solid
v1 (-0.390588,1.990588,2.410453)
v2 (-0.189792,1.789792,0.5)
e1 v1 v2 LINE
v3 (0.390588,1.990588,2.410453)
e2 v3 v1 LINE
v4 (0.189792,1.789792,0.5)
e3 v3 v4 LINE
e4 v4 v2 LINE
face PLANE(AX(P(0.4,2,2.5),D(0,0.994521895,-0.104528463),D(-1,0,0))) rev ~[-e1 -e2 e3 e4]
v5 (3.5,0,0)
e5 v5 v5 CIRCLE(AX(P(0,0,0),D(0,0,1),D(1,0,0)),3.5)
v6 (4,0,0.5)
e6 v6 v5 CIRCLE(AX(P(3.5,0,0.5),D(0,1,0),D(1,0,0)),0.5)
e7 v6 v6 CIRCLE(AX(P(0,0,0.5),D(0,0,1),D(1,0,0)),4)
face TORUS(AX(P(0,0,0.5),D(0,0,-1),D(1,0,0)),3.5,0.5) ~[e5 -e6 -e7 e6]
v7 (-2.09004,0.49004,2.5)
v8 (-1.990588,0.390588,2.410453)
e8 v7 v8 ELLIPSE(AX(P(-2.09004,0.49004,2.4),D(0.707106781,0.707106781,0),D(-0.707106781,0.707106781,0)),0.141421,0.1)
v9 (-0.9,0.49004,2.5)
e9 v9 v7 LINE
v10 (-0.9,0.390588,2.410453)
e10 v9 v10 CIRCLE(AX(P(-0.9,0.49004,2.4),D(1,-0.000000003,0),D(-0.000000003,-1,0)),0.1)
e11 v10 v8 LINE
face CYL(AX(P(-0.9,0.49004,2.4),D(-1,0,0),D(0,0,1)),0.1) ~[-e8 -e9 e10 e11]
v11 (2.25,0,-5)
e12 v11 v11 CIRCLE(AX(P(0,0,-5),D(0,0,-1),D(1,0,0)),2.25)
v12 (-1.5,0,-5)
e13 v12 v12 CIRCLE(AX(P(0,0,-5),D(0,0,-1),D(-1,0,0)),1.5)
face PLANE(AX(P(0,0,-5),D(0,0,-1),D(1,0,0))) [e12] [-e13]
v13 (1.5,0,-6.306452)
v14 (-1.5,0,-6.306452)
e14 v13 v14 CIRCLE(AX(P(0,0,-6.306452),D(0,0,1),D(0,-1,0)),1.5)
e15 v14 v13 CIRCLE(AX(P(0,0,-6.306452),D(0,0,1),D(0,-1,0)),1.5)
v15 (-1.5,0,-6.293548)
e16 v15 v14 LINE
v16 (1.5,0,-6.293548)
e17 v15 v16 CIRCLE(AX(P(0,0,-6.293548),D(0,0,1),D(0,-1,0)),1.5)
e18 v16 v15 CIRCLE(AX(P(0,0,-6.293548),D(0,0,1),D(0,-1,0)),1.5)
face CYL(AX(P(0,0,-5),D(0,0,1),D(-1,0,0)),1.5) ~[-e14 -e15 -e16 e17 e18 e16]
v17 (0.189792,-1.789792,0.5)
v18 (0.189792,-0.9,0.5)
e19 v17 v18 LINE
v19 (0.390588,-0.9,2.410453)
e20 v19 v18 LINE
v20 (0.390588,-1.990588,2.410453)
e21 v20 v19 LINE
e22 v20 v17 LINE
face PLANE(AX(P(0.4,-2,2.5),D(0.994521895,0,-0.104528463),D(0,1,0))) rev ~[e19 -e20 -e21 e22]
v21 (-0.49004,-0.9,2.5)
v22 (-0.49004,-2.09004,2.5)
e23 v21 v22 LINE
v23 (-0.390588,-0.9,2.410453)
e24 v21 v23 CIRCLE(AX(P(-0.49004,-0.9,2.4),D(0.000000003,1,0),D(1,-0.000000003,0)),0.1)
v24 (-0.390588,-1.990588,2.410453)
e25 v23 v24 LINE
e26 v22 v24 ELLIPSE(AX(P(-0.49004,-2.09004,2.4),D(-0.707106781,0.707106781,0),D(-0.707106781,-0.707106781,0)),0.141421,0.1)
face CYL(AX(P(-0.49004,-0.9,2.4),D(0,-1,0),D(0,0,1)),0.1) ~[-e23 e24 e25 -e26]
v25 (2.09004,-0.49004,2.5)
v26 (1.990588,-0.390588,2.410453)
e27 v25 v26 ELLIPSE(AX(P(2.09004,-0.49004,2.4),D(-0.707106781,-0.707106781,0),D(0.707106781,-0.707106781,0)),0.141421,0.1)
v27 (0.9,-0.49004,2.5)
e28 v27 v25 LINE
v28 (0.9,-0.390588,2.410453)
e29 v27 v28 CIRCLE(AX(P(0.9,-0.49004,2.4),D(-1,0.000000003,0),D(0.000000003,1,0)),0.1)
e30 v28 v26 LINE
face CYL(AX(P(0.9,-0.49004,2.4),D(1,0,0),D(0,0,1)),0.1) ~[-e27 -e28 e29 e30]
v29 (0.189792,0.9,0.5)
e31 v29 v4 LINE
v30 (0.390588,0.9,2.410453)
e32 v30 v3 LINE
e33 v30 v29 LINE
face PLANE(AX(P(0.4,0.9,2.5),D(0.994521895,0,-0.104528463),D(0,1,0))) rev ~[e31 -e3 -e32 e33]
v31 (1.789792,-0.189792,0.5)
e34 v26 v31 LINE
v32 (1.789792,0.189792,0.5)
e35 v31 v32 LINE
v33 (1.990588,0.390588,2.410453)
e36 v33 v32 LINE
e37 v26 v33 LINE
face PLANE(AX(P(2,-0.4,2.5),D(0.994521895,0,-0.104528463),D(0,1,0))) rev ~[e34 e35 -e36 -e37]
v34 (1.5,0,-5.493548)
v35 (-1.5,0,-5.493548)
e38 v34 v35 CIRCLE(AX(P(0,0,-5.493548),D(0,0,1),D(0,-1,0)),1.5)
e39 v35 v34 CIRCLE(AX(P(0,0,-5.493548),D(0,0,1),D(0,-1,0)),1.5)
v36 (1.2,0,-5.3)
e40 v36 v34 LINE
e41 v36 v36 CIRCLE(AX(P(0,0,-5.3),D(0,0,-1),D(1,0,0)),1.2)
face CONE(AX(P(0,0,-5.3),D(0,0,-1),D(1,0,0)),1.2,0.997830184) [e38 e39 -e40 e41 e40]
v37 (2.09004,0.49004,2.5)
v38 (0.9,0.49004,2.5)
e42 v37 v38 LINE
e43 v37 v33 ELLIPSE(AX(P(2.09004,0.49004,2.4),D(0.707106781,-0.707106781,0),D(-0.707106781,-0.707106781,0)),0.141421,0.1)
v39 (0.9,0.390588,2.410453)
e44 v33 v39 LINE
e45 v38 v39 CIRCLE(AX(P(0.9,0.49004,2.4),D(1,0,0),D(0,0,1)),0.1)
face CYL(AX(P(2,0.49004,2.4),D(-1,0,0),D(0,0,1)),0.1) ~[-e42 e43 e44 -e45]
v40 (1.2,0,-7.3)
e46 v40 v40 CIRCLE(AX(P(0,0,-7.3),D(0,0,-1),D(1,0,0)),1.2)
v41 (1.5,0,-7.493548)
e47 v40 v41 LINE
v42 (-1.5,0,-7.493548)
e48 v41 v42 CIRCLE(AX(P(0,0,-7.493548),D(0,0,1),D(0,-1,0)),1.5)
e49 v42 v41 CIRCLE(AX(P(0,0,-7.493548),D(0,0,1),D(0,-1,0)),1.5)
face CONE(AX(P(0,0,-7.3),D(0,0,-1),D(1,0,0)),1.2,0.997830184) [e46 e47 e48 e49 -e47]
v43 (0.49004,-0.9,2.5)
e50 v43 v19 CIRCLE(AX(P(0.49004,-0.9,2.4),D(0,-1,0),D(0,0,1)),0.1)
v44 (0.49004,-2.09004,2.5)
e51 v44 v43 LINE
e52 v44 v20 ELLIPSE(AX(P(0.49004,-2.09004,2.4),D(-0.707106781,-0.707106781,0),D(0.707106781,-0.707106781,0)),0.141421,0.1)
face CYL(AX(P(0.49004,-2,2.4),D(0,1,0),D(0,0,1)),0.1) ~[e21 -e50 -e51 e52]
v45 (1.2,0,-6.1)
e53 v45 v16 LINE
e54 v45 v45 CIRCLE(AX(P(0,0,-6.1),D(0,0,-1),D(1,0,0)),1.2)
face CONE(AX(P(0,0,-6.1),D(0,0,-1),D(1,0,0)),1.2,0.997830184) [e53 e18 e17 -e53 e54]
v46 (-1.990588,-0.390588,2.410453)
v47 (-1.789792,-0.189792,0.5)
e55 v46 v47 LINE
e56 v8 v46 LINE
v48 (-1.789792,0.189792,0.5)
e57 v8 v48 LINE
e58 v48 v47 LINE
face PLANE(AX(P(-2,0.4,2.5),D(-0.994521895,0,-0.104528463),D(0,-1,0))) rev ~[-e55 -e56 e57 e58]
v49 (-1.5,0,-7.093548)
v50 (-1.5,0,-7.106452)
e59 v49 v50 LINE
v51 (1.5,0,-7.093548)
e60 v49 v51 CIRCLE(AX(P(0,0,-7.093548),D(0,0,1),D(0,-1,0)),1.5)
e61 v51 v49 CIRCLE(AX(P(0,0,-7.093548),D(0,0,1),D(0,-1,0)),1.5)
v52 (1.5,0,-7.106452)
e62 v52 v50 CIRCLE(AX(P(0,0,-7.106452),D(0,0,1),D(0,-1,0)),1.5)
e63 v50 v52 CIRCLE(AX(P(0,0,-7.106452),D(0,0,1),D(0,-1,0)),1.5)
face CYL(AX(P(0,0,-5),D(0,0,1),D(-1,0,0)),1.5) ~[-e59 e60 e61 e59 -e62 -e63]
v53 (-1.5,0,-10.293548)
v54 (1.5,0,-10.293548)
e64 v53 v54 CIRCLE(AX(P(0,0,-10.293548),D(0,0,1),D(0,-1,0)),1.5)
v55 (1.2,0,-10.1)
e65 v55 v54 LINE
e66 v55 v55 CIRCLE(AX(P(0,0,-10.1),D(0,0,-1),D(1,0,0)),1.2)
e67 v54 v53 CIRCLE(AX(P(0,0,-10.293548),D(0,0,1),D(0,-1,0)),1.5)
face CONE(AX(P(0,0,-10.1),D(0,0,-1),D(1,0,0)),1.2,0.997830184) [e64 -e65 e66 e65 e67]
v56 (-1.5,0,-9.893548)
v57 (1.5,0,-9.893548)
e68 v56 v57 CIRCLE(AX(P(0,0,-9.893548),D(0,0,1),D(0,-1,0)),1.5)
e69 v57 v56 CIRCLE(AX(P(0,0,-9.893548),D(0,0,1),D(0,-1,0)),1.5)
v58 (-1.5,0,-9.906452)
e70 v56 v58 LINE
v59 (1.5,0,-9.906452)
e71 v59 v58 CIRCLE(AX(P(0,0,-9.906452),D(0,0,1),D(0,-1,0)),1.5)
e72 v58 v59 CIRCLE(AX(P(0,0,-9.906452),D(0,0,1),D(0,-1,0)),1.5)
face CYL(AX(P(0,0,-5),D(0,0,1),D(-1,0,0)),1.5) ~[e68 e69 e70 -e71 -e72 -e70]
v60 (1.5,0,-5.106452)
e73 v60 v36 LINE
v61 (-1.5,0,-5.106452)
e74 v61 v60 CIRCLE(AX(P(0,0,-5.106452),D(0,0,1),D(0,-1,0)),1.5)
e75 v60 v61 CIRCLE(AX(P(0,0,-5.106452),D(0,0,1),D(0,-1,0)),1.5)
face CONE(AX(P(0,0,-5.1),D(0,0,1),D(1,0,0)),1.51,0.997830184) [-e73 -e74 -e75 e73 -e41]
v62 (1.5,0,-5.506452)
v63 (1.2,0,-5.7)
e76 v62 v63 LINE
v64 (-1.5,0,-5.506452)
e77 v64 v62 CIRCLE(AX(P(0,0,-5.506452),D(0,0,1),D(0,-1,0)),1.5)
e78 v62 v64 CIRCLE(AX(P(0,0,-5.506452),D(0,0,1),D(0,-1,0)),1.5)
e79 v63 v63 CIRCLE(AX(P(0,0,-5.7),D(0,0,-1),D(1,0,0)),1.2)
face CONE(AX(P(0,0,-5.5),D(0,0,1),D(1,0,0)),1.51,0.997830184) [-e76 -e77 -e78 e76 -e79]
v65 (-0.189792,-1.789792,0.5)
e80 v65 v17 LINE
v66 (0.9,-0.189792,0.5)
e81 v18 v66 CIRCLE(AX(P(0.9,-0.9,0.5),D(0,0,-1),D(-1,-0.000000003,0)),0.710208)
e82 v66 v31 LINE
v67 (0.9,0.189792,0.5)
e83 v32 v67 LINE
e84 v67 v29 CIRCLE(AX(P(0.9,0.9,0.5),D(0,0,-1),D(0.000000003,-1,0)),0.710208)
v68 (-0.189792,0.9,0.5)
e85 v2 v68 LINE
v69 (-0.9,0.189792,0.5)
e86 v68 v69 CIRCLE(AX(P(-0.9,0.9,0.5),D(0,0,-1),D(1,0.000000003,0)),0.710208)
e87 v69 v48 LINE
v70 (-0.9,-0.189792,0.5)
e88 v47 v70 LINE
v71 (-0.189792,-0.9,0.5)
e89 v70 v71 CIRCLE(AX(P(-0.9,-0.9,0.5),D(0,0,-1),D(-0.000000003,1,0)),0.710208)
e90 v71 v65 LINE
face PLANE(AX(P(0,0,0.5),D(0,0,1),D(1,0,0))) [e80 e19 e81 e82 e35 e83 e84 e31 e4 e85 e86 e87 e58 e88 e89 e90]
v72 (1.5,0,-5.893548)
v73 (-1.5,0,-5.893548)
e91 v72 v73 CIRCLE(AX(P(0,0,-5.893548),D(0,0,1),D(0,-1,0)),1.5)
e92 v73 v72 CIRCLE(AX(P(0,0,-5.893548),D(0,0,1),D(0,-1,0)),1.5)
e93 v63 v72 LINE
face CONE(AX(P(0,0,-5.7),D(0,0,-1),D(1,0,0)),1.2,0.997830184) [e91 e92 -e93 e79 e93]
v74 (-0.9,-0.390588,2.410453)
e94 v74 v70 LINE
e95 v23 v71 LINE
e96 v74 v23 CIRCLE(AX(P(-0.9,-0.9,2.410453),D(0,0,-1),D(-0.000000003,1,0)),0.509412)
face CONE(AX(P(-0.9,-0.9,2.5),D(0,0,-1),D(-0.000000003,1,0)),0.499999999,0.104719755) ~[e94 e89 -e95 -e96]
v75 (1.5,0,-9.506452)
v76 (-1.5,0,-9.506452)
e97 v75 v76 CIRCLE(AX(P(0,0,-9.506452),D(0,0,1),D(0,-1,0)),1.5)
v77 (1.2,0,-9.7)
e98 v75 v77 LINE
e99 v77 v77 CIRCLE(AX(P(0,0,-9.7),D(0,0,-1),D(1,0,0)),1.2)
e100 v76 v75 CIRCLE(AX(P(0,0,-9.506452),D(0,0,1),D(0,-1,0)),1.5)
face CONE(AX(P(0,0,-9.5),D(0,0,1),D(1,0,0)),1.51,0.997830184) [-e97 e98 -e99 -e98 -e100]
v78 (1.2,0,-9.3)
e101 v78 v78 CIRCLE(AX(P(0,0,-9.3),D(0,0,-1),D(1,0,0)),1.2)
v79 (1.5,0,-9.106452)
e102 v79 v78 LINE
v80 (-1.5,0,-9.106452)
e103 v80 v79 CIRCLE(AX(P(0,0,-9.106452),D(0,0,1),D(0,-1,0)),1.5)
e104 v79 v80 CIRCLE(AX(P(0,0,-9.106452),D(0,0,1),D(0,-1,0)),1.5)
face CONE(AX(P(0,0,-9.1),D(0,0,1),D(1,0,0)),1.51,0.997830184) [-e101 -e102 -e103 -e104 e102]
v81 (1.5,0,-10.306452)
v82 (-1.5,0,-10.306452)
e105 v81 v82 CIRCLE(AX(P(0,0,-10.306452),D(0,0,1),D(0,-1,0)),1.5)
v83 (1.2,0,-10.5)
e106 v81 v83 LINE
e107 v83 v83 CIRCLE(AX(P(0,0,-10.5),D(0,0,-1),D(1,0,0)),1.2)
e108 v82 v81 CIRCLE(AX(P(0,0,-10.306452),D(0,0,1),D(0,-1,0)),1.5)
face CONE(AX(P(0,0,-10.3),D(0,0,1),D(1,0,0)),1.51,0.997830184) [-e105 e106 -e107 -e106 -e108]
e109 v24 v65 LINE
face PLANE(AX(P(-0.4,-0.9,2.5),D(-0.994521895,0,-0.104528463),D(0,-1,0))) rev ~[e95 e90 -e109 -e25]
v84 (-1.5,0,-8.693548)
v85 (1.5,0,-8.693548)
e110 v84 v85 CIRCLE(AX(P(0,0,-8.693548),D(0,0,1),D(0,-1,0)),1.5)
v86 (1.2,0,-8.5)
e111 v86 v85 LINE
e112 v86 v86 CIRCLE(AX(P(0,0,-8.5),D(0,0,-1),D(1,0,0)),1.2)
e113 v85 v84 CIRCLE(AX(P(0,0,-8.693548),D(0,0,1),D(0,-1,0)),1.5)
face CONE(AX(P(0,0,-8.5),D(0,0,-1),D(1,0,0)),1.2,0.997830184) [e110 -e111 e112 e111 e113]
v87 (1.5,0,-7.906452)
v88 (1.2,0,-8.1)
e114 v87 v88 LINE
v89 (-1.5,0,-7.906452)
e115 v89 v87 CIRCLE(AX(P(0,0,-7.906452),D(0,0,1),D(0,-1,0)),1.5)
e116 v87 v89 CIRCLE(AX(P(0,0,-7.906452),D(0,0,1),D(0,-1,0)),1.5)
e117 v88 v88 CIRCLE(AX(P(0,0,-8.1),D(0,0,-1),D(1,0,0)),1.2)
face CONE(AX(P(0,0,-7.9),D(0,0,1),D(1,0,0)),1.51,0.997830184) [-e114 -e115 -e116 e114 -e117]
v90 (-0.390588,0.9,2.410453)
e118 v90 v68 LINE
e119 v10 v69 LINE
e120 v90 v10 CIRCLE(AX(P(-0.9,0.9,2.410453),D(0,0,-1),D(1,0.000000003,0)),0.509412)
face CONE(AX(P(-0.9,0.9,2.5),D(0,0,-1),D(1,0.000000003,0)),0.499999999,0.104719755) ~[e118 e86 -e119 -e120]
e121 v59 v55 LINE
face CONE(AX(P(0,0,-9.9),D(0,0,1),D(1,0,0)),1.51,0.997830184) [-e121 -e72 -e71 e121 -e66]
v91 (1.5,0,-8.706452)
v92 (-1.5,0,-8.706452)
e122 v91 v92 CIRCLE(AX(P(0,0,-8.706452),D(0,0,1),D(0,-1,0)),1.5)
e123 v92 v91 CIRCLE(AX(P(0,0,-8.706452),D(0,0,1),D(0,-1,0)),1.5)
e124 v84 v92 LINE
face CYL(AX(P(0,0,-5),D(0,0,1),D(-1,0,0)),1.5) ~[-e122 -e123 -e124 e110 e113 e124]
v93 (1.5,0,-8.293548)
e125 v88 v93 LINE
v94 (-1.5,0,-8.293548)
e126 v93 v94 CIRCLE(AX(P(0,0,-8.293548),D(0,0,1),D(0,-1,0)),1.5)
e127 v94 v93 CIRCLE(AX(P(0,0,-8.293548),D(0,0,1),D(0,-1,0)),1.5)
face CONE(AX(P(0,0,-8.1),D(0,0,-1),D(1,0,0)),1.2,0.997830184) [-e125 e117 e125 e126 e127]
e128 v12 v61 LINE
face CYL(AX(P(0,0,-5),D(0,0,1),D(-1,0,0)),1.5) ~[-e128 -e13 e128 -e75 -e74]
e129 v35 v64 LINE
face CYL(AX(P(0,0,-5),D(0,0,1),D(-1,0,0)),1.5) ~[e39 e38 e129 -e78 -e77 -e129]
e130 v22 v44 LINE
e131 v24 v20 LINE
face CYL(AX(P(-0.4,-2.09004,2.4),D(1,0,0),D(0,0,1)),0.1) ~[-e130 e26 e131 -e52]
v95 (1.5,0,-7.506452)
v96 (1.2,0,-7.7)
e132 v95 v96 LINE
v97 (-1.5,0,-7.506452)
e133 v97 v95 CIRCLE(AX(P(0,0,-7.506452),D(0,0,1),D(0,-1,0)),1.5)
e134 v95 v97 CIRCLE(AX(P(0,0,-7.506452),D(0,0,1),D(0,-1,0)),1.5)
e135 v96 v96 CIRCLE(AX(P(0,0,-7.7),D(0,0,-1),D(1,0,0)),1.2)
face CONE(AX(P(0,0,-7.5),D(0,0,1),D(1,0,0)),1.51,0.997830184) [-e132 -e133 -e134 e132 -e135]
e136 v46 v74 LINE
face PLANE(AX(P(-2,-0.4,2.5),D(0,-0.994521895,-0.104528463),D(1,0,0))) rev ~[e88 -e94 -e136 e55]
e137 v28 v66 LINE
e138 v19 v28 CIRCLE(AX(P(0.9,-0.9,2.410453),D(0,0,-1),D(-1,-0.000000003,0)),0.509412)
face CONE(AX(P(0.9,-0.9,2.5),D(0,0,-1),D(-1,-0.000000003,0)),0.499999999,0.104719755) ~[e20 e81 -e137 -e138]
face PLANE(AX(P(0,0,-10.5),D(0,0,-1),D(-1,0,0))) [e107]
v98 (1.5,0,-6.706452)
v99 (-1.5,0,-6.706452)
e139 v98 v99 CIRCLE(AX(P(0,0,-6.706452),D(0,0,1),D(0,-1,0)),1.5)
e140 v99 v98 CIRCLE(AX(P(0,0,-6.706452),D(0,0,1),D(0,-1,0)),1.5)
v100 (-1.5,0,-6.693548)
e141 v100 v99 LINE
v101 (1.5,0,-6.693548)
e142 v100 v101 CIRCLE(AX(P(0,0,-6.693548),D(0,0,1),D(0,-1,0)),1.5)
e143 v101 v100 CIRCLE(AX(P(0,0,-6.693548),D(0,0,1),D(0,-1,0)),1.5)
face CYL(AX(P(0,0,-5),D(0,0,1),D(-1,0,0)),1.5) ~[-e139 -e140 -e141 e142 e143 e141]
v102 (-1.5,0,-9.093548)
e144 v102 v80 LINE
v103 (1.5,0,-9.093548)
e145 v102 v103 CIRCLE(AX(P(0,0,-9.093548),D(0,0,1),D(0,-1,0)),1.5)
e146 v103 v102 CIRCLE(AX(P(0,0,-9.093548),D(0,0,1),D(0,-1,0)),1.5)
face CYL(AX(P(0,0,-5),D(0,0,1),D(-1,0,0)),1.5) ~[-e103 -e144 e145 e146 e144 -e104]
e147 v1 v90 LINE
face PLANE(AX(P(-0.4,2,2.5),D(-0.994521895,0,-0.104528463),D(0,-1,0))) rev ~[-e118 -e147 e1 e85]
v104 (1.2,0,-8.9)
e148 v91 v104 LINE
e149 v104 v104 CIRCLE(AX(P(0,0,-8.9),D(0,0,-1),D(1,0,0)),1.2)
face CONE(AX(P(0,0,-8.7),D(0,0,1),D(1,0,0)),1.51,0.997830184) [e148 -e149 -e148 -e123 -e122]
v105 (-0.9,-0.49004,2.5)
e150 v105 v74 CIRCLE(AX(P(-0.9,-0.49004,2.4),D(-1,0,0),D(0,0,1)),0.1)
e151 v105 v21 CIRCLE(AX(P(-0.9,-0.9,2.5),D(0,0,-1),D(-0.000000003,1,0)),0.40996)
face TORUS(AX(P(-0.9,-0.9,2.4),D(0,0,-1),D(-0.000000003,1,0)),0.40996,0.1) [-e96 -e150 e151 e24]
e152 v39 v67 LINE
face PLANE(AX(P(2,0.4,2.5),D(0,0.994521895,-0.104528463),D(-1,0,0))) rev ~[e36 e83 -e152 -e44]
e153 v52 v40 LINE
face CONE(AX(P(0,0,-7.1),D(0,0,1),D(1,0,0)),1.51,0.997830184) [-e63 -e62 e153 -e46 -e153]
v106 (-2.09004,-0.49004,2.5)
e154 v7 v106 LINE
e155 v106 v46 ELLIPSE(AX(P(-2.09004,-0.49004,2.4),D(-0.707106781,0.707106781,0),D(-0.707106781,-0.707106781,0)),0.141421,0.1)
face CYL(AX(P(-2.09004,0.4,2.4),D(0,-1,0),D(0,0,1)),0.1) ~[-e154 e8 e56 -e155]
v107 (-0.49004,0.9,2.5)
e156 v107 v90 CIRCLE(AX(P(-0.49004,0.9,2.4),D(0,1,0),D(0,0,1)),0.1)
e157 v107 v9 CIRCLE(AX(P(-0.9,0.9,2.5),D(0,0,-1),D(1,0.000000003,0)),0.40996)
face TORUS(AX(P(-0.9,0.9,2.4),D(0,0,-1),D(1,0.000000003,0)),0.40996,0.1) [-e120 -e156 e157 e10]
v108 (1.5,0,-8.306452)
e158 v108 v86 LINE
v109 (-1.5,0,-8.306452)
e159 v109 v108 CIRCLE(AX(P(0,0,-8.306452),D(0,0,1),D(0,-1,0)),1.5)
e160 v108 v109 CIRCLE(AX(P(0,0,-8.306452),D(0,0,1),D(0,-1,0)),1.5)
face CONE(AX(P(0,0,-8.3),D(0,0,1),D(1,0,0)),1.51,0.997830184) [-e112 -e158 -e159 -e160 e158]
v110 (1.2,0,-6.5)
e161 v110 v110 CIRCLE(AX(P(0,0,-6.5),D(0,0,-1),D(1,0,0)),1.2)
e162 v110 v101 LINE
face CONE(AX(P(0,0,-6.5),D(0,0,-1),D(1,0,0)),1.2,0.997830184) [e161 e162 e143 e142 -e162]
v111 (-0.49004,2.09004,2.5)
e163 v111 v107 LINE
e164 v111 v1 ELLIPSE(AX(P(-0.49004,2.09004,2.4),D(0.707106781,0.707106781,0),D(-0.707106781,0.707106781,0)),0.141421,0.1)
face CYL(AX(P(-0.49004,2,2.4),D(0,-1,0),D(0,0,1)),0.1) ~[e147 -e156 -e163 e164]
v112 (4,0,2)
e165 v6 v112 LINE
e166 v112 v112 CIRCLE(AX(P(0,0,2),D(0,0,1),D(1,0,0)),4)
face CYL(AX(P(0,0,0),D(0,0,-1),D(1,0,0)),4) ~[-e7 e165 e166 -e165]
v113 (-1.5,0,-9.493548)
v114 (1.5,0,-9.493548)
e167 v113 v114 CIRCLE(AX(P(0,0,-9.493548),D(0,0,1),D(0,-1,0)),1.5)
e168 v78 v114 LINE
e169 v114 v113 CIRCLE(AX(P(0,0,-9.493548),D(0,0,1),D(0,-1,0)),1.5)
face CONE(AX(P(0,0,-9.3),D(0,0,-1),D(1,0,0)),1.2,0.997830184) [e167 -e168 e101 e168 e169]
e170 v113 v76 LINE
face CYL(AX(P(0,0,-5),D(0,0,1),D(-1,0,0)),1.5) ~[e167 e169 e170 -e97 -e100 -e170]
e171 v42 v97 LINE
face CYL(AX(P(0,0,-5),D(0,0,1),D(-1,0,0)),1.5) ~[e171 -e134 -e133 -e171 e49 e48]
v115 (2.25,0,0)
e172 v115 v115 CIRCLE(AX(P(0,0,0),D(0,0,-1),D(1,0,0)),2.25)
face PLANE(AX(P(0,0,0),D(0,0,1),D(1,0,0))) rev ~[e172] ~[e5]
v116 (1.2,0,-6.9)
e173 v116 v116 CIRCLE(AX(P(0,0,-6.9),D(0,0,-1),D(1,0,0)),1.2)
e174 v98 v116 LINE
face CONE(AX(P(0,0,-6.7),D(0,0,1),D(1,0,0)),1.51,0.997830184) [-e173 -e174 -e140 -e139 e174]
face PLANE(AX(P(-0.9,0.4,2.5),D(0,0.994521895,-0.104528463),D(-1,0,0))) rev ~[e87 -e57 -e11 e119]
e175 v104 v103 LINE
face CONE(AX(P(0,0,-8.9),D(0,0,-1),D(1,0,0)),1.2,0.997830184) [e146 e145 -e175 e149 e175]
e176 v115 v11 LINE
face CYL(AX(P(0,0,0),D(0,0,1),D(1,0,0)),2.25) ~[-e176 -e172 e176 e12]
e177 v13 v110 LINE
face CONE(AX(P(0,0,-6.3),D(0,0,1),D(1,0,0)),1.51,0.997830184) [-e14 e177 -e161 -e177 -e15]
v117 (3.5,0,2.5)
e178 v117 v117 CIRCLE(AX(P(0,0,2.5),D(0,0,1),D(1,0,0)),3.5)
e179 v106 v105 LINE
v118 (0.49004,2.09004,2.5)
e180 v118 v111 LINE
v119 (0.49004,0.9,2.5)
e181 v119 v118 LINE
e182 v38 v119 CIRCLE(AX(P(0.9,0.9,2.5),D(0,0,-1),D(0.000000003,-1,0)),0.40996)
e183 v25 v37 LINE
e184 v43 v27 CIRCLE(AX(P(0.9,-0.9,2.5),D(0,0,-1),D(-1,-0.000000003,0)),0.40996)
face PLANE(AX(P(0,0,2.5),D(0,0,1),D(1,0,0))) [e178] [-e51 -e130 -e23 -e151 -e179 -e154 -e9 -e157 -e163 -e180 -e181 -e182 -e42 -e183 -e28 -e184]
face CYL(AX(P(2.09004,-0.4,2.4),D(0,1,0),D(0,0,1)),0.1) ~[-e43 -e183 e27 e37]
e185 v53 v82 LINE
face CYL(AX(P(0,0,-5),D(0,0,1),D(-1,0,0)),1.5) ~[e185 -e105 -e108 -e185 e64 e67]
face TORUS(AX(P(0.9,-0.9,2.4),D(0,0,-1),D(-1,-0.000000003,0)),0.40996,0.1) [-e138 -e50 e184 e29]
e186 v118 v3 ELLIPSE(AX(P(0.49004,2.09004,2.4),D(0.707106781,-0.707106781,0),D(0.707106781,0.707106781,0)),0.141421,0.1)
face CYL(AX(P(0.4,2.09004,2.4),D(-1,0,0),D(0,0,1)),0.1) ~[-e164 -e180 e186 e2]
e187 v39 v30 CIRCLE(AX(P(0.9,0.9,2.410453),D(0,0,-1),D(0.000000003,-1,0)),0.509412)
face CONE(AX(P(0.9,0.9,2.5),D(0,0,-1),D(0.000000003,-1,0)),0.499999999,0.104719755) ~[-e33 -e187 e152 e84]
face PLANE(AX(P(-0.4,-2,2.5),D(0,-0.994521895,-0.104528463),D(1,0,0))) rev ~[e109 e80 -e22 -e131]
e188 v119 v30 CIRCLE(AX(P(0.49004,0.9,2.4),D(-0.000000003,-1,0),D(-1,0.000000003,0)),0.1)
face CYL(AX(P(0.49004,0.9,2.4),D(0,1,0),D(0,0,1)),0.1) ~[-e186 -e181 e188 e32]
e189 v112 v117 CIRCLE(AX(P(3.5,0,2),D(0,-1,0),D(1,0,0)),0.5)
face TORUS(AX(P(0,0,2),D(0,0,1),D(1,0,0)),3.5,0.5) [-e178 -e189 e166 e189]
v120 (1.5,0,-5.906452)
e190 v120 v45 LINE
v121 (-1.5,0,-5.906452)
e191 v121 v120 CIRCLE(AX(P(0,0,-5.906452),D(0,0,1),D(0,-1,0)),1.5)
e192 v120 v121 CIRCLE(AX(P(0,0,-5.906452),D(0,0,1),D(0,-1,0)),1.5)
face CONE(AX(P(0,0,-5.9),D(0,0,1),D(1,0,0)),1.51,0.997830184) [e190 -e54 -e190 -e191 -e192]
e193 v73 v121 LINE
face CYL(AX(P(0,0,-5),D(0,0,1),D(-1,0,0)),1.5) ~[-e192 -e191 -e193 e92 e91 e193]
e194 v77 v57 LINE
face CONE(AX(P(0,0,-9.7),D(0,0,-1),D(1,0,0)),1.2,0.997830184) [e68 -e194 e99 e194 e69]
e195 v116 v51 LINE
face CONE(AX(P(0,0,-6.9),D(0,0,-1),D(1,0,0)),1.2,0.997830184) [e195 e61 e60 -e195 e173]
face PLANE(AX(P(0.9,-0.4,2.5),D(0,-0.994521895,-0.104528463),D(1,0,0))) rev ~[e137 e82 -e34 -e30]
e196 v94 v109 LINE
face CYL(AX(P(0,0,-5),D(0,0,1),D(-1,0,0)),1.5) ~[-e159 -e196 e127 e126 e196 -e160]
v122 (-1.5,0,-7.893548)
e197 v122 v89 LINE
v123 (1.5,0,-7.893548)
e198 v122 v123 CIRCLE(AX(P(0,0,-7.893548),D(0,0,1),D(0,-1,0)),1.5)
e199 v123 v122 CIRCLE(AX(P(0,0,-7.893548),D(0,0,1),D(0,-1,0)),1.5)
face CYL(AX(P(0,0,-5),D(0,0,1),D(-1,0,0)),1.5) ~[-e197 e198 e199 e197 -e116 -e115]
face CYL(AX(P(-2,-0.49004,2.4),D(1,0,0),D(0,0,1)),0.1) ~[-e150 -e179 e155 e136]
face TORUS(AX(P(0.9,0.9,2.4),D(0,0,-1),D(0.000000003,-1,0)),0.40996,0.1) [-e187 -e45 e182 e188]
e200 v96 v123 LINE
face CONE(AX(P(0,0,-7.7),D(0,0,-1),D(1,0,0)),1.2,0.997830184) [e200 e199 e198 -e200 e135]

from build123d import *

# Parameters (mm, degrees)
SKETCH1_R           = 4
BOSS_EXTRUDE1_DEPTH = 2.5
FILLET1_R           = 0.5
SKETCH2_R           = 2.25
BOSS_EXTRUDE2_DEPTH = 5
SKETCH3_R           = 1.5
BOSS_EXTRUDE3_DEPTH = 5.5
CUT_EXTRUDE1_DEPTH  = 2
CUT_EXTRUDE1_DRAFT  = -6
FILLET2_R           = 0.1
LPATTERN1_COUNT     = 14
LPATTERN1_PITCH     = 0.4


with BuildPart() as part:
    # Sketch1 → Boss-Extrude1 (new body)
    with BuildSketch(Plane.XY):
        Circle(SKETCH1_R)
    extrude(amount=BOSS_EXTRUDE1_DEPTH)

    # Fillet1
    fillet1_edges = [part.edges().sort_by_distance(p)[0] for p in [
        (-4, 0, 0),
        (-4, 0, 2.5),
    ]]
    fillet(fillet1_edges, radius=FILLET1_R)

    # Sketch2 → Boss-Extrude2 (add)
    with BuildSketch(Plane(origin=(0, 0, 0), x_dir=(-1, 0, 0), z_dir=(0, 0, -1))):
        with Locations(Location((0, 0, 0), (0, 0, 180))):
            Circle(SKETCH2_R)
    extrude(amount=BOSS_EXTRUDE2_DEPTH)

    # Sketch3 → Boss-Extrude3 (add)
    with BuildSketch(Plane(origin=(0, 0, -5), x_dir=(-1, 0, 0), z_dir=(0, 0, -1))):
        Circle(SKETCH3_R)
    extrude(amount=BOSS_EXTRUDE3_DEPTH)


with BuildPart() as cut_extrude1_tool:
    # Sketch4 → Cut-Extrude1 (with draft: the straight prism first)
    with BuildSketch(Plane.XY.offset(2.5)):
        with BuildLine():
            Line((-0.4, -2), (0.4, -2))
            Line((0.4, -2), (0.4, -0.9))
            ThreePointArc((0.4, -0.9), (0.546446609, -0.546446609), (0.9, -0.4))
            Line((0.9, -0.4), (2, -0.4))
            Line((2, -0.4), (2, 0.4))
            Line((2, 0.4), (0.9, 0.4))
            ThreePointArc((0.9, 0.4), (0.546446609, 0.546446609), (0.4, 0.9))
            Line((0.4, 0.9), (0.4, 2))
            Line((0.4, 2), (-0.4, 2))
            Line((-0.4, 2), (-0.4, 0.9))
            ThreePointArc((-0.4, 0.9), (-0.546446609, 0.546446609), (-0.9, 0.4))
            Line((-0.9, 0.4), (-2, 0.4))
            Line((-2, 0.4), (-2, -0.4))
            Line((-2, -0.4), (-0.9, -0.4))
            ThreePointArc((-0.9, -0.4), (-0.546446609, -0.546446609), (-0.4, -0.9))
            Line((-0.4, -0.9), (-0.4, -2))
        make_face()
    extrude(amount=-CUT_EXTRUDE1_DEPTH)
    # Cut-Extrude1: the draft: its side faces are tilted about the plane it starts from
    cut_extrude1_sides = [cut_extrude1_tool.faces().sort_by_distance(p)[0] for p in [
        (-0.4, -1.45, 1.5),
        (0, -2, 1.5),
        (0.4, -1.45, 1.5),
        (0.546446609, -0.546446609, 1.5),
        (1.45, -0.4, 1.5),
        (2, 0, 1.5),
        (1.45, 0.4, 1.5),
        (0.546446609, 0.546446609, 1.5),
        (0.4, 1.45, 1.5),
        (0, 2, 1.5),
        (-0.4, 1.45, 1.5),
        (-0.546446609, 0.546446609, 1.5),
        (-1.45, 0.4, 1.5),
        (-2, 0, 1.5),
        (-1.45, -0.4, 1.5),
        (-0.546446609, -0.546446609, 1.5),
    ]]
    draft(cut_extrude1_sides, Plane.XY.offset(2.5), CUT_EXTRUDE1_DRAFT)


with BuildPart() as part_1:
    add(part.part)

    # Cut-Extrude1: cut by cut_extrude1_tool
    add(cut_extrude1_tool.part, mode=Mode.SUBTRACT)

    # Fillet2
    fillet2_edges = [part_1.edges().sort_by_distance(p)[0] for p in [
        (0.4, 1.45, 2.5),
        (0, 2, 2.5),
        (-0.4, 1.45, 2.5),
        (-0.546446609, 0.546446609, 2.5),
        (-1.45, 0.4, 2.5),
        (-2, 0, 2.5),
        (-1.45, -0.4, 2.5),
        (-0.546446609, -0.546446609, 2.5),
        (-0.4, -1.45, 2.5),
        (0, -2, 2.5),
        (0.4, -1.45, 2.5),
        (0.546446609, -0.546446609, 2.5),
        (1.45, -0.4, 2.5),
        (2, 0, 2.5),
        (1.45, 0.4, 2.5),
        (0.546446609, 0.546446609, 2.5),
    ]]
    fillet(fillet2_edges, radius=FILLET2_R)

    # Sketch5 → Cut-Revolve1 (revolve, cut)
    with BuildSketch(Plane(origin=(0, 0, 0), x_dir=(0, 0, -1), z_dir=(1, 0, 0)), mode=Mode.PRIVATE) as cut_revolve1_sk:
        Polygon((10.5, 1.2), (10.7, 1.51), (10.3, 1.51), align=None)
    cut_revolve1 = revolve(cut_revolve1_sk.sketch.rotate(Axis((0, 0, 3.290536828), (0, 0, -1)), 90), axis=Axis((0, 0, 3.290536828), (0, 0, -1)), mode=Mode.SUBTRACT)

    # LPattern1: Cut-Revolve1 ×14
    with Locations(*[(0, 0, i * LPATTERN1_PITCH) for i in range(1, LPATTERN1_COUNT)]):
        add(cut_revolve1, mode=Mode.SUBTRACT)


solid = part_1.part
